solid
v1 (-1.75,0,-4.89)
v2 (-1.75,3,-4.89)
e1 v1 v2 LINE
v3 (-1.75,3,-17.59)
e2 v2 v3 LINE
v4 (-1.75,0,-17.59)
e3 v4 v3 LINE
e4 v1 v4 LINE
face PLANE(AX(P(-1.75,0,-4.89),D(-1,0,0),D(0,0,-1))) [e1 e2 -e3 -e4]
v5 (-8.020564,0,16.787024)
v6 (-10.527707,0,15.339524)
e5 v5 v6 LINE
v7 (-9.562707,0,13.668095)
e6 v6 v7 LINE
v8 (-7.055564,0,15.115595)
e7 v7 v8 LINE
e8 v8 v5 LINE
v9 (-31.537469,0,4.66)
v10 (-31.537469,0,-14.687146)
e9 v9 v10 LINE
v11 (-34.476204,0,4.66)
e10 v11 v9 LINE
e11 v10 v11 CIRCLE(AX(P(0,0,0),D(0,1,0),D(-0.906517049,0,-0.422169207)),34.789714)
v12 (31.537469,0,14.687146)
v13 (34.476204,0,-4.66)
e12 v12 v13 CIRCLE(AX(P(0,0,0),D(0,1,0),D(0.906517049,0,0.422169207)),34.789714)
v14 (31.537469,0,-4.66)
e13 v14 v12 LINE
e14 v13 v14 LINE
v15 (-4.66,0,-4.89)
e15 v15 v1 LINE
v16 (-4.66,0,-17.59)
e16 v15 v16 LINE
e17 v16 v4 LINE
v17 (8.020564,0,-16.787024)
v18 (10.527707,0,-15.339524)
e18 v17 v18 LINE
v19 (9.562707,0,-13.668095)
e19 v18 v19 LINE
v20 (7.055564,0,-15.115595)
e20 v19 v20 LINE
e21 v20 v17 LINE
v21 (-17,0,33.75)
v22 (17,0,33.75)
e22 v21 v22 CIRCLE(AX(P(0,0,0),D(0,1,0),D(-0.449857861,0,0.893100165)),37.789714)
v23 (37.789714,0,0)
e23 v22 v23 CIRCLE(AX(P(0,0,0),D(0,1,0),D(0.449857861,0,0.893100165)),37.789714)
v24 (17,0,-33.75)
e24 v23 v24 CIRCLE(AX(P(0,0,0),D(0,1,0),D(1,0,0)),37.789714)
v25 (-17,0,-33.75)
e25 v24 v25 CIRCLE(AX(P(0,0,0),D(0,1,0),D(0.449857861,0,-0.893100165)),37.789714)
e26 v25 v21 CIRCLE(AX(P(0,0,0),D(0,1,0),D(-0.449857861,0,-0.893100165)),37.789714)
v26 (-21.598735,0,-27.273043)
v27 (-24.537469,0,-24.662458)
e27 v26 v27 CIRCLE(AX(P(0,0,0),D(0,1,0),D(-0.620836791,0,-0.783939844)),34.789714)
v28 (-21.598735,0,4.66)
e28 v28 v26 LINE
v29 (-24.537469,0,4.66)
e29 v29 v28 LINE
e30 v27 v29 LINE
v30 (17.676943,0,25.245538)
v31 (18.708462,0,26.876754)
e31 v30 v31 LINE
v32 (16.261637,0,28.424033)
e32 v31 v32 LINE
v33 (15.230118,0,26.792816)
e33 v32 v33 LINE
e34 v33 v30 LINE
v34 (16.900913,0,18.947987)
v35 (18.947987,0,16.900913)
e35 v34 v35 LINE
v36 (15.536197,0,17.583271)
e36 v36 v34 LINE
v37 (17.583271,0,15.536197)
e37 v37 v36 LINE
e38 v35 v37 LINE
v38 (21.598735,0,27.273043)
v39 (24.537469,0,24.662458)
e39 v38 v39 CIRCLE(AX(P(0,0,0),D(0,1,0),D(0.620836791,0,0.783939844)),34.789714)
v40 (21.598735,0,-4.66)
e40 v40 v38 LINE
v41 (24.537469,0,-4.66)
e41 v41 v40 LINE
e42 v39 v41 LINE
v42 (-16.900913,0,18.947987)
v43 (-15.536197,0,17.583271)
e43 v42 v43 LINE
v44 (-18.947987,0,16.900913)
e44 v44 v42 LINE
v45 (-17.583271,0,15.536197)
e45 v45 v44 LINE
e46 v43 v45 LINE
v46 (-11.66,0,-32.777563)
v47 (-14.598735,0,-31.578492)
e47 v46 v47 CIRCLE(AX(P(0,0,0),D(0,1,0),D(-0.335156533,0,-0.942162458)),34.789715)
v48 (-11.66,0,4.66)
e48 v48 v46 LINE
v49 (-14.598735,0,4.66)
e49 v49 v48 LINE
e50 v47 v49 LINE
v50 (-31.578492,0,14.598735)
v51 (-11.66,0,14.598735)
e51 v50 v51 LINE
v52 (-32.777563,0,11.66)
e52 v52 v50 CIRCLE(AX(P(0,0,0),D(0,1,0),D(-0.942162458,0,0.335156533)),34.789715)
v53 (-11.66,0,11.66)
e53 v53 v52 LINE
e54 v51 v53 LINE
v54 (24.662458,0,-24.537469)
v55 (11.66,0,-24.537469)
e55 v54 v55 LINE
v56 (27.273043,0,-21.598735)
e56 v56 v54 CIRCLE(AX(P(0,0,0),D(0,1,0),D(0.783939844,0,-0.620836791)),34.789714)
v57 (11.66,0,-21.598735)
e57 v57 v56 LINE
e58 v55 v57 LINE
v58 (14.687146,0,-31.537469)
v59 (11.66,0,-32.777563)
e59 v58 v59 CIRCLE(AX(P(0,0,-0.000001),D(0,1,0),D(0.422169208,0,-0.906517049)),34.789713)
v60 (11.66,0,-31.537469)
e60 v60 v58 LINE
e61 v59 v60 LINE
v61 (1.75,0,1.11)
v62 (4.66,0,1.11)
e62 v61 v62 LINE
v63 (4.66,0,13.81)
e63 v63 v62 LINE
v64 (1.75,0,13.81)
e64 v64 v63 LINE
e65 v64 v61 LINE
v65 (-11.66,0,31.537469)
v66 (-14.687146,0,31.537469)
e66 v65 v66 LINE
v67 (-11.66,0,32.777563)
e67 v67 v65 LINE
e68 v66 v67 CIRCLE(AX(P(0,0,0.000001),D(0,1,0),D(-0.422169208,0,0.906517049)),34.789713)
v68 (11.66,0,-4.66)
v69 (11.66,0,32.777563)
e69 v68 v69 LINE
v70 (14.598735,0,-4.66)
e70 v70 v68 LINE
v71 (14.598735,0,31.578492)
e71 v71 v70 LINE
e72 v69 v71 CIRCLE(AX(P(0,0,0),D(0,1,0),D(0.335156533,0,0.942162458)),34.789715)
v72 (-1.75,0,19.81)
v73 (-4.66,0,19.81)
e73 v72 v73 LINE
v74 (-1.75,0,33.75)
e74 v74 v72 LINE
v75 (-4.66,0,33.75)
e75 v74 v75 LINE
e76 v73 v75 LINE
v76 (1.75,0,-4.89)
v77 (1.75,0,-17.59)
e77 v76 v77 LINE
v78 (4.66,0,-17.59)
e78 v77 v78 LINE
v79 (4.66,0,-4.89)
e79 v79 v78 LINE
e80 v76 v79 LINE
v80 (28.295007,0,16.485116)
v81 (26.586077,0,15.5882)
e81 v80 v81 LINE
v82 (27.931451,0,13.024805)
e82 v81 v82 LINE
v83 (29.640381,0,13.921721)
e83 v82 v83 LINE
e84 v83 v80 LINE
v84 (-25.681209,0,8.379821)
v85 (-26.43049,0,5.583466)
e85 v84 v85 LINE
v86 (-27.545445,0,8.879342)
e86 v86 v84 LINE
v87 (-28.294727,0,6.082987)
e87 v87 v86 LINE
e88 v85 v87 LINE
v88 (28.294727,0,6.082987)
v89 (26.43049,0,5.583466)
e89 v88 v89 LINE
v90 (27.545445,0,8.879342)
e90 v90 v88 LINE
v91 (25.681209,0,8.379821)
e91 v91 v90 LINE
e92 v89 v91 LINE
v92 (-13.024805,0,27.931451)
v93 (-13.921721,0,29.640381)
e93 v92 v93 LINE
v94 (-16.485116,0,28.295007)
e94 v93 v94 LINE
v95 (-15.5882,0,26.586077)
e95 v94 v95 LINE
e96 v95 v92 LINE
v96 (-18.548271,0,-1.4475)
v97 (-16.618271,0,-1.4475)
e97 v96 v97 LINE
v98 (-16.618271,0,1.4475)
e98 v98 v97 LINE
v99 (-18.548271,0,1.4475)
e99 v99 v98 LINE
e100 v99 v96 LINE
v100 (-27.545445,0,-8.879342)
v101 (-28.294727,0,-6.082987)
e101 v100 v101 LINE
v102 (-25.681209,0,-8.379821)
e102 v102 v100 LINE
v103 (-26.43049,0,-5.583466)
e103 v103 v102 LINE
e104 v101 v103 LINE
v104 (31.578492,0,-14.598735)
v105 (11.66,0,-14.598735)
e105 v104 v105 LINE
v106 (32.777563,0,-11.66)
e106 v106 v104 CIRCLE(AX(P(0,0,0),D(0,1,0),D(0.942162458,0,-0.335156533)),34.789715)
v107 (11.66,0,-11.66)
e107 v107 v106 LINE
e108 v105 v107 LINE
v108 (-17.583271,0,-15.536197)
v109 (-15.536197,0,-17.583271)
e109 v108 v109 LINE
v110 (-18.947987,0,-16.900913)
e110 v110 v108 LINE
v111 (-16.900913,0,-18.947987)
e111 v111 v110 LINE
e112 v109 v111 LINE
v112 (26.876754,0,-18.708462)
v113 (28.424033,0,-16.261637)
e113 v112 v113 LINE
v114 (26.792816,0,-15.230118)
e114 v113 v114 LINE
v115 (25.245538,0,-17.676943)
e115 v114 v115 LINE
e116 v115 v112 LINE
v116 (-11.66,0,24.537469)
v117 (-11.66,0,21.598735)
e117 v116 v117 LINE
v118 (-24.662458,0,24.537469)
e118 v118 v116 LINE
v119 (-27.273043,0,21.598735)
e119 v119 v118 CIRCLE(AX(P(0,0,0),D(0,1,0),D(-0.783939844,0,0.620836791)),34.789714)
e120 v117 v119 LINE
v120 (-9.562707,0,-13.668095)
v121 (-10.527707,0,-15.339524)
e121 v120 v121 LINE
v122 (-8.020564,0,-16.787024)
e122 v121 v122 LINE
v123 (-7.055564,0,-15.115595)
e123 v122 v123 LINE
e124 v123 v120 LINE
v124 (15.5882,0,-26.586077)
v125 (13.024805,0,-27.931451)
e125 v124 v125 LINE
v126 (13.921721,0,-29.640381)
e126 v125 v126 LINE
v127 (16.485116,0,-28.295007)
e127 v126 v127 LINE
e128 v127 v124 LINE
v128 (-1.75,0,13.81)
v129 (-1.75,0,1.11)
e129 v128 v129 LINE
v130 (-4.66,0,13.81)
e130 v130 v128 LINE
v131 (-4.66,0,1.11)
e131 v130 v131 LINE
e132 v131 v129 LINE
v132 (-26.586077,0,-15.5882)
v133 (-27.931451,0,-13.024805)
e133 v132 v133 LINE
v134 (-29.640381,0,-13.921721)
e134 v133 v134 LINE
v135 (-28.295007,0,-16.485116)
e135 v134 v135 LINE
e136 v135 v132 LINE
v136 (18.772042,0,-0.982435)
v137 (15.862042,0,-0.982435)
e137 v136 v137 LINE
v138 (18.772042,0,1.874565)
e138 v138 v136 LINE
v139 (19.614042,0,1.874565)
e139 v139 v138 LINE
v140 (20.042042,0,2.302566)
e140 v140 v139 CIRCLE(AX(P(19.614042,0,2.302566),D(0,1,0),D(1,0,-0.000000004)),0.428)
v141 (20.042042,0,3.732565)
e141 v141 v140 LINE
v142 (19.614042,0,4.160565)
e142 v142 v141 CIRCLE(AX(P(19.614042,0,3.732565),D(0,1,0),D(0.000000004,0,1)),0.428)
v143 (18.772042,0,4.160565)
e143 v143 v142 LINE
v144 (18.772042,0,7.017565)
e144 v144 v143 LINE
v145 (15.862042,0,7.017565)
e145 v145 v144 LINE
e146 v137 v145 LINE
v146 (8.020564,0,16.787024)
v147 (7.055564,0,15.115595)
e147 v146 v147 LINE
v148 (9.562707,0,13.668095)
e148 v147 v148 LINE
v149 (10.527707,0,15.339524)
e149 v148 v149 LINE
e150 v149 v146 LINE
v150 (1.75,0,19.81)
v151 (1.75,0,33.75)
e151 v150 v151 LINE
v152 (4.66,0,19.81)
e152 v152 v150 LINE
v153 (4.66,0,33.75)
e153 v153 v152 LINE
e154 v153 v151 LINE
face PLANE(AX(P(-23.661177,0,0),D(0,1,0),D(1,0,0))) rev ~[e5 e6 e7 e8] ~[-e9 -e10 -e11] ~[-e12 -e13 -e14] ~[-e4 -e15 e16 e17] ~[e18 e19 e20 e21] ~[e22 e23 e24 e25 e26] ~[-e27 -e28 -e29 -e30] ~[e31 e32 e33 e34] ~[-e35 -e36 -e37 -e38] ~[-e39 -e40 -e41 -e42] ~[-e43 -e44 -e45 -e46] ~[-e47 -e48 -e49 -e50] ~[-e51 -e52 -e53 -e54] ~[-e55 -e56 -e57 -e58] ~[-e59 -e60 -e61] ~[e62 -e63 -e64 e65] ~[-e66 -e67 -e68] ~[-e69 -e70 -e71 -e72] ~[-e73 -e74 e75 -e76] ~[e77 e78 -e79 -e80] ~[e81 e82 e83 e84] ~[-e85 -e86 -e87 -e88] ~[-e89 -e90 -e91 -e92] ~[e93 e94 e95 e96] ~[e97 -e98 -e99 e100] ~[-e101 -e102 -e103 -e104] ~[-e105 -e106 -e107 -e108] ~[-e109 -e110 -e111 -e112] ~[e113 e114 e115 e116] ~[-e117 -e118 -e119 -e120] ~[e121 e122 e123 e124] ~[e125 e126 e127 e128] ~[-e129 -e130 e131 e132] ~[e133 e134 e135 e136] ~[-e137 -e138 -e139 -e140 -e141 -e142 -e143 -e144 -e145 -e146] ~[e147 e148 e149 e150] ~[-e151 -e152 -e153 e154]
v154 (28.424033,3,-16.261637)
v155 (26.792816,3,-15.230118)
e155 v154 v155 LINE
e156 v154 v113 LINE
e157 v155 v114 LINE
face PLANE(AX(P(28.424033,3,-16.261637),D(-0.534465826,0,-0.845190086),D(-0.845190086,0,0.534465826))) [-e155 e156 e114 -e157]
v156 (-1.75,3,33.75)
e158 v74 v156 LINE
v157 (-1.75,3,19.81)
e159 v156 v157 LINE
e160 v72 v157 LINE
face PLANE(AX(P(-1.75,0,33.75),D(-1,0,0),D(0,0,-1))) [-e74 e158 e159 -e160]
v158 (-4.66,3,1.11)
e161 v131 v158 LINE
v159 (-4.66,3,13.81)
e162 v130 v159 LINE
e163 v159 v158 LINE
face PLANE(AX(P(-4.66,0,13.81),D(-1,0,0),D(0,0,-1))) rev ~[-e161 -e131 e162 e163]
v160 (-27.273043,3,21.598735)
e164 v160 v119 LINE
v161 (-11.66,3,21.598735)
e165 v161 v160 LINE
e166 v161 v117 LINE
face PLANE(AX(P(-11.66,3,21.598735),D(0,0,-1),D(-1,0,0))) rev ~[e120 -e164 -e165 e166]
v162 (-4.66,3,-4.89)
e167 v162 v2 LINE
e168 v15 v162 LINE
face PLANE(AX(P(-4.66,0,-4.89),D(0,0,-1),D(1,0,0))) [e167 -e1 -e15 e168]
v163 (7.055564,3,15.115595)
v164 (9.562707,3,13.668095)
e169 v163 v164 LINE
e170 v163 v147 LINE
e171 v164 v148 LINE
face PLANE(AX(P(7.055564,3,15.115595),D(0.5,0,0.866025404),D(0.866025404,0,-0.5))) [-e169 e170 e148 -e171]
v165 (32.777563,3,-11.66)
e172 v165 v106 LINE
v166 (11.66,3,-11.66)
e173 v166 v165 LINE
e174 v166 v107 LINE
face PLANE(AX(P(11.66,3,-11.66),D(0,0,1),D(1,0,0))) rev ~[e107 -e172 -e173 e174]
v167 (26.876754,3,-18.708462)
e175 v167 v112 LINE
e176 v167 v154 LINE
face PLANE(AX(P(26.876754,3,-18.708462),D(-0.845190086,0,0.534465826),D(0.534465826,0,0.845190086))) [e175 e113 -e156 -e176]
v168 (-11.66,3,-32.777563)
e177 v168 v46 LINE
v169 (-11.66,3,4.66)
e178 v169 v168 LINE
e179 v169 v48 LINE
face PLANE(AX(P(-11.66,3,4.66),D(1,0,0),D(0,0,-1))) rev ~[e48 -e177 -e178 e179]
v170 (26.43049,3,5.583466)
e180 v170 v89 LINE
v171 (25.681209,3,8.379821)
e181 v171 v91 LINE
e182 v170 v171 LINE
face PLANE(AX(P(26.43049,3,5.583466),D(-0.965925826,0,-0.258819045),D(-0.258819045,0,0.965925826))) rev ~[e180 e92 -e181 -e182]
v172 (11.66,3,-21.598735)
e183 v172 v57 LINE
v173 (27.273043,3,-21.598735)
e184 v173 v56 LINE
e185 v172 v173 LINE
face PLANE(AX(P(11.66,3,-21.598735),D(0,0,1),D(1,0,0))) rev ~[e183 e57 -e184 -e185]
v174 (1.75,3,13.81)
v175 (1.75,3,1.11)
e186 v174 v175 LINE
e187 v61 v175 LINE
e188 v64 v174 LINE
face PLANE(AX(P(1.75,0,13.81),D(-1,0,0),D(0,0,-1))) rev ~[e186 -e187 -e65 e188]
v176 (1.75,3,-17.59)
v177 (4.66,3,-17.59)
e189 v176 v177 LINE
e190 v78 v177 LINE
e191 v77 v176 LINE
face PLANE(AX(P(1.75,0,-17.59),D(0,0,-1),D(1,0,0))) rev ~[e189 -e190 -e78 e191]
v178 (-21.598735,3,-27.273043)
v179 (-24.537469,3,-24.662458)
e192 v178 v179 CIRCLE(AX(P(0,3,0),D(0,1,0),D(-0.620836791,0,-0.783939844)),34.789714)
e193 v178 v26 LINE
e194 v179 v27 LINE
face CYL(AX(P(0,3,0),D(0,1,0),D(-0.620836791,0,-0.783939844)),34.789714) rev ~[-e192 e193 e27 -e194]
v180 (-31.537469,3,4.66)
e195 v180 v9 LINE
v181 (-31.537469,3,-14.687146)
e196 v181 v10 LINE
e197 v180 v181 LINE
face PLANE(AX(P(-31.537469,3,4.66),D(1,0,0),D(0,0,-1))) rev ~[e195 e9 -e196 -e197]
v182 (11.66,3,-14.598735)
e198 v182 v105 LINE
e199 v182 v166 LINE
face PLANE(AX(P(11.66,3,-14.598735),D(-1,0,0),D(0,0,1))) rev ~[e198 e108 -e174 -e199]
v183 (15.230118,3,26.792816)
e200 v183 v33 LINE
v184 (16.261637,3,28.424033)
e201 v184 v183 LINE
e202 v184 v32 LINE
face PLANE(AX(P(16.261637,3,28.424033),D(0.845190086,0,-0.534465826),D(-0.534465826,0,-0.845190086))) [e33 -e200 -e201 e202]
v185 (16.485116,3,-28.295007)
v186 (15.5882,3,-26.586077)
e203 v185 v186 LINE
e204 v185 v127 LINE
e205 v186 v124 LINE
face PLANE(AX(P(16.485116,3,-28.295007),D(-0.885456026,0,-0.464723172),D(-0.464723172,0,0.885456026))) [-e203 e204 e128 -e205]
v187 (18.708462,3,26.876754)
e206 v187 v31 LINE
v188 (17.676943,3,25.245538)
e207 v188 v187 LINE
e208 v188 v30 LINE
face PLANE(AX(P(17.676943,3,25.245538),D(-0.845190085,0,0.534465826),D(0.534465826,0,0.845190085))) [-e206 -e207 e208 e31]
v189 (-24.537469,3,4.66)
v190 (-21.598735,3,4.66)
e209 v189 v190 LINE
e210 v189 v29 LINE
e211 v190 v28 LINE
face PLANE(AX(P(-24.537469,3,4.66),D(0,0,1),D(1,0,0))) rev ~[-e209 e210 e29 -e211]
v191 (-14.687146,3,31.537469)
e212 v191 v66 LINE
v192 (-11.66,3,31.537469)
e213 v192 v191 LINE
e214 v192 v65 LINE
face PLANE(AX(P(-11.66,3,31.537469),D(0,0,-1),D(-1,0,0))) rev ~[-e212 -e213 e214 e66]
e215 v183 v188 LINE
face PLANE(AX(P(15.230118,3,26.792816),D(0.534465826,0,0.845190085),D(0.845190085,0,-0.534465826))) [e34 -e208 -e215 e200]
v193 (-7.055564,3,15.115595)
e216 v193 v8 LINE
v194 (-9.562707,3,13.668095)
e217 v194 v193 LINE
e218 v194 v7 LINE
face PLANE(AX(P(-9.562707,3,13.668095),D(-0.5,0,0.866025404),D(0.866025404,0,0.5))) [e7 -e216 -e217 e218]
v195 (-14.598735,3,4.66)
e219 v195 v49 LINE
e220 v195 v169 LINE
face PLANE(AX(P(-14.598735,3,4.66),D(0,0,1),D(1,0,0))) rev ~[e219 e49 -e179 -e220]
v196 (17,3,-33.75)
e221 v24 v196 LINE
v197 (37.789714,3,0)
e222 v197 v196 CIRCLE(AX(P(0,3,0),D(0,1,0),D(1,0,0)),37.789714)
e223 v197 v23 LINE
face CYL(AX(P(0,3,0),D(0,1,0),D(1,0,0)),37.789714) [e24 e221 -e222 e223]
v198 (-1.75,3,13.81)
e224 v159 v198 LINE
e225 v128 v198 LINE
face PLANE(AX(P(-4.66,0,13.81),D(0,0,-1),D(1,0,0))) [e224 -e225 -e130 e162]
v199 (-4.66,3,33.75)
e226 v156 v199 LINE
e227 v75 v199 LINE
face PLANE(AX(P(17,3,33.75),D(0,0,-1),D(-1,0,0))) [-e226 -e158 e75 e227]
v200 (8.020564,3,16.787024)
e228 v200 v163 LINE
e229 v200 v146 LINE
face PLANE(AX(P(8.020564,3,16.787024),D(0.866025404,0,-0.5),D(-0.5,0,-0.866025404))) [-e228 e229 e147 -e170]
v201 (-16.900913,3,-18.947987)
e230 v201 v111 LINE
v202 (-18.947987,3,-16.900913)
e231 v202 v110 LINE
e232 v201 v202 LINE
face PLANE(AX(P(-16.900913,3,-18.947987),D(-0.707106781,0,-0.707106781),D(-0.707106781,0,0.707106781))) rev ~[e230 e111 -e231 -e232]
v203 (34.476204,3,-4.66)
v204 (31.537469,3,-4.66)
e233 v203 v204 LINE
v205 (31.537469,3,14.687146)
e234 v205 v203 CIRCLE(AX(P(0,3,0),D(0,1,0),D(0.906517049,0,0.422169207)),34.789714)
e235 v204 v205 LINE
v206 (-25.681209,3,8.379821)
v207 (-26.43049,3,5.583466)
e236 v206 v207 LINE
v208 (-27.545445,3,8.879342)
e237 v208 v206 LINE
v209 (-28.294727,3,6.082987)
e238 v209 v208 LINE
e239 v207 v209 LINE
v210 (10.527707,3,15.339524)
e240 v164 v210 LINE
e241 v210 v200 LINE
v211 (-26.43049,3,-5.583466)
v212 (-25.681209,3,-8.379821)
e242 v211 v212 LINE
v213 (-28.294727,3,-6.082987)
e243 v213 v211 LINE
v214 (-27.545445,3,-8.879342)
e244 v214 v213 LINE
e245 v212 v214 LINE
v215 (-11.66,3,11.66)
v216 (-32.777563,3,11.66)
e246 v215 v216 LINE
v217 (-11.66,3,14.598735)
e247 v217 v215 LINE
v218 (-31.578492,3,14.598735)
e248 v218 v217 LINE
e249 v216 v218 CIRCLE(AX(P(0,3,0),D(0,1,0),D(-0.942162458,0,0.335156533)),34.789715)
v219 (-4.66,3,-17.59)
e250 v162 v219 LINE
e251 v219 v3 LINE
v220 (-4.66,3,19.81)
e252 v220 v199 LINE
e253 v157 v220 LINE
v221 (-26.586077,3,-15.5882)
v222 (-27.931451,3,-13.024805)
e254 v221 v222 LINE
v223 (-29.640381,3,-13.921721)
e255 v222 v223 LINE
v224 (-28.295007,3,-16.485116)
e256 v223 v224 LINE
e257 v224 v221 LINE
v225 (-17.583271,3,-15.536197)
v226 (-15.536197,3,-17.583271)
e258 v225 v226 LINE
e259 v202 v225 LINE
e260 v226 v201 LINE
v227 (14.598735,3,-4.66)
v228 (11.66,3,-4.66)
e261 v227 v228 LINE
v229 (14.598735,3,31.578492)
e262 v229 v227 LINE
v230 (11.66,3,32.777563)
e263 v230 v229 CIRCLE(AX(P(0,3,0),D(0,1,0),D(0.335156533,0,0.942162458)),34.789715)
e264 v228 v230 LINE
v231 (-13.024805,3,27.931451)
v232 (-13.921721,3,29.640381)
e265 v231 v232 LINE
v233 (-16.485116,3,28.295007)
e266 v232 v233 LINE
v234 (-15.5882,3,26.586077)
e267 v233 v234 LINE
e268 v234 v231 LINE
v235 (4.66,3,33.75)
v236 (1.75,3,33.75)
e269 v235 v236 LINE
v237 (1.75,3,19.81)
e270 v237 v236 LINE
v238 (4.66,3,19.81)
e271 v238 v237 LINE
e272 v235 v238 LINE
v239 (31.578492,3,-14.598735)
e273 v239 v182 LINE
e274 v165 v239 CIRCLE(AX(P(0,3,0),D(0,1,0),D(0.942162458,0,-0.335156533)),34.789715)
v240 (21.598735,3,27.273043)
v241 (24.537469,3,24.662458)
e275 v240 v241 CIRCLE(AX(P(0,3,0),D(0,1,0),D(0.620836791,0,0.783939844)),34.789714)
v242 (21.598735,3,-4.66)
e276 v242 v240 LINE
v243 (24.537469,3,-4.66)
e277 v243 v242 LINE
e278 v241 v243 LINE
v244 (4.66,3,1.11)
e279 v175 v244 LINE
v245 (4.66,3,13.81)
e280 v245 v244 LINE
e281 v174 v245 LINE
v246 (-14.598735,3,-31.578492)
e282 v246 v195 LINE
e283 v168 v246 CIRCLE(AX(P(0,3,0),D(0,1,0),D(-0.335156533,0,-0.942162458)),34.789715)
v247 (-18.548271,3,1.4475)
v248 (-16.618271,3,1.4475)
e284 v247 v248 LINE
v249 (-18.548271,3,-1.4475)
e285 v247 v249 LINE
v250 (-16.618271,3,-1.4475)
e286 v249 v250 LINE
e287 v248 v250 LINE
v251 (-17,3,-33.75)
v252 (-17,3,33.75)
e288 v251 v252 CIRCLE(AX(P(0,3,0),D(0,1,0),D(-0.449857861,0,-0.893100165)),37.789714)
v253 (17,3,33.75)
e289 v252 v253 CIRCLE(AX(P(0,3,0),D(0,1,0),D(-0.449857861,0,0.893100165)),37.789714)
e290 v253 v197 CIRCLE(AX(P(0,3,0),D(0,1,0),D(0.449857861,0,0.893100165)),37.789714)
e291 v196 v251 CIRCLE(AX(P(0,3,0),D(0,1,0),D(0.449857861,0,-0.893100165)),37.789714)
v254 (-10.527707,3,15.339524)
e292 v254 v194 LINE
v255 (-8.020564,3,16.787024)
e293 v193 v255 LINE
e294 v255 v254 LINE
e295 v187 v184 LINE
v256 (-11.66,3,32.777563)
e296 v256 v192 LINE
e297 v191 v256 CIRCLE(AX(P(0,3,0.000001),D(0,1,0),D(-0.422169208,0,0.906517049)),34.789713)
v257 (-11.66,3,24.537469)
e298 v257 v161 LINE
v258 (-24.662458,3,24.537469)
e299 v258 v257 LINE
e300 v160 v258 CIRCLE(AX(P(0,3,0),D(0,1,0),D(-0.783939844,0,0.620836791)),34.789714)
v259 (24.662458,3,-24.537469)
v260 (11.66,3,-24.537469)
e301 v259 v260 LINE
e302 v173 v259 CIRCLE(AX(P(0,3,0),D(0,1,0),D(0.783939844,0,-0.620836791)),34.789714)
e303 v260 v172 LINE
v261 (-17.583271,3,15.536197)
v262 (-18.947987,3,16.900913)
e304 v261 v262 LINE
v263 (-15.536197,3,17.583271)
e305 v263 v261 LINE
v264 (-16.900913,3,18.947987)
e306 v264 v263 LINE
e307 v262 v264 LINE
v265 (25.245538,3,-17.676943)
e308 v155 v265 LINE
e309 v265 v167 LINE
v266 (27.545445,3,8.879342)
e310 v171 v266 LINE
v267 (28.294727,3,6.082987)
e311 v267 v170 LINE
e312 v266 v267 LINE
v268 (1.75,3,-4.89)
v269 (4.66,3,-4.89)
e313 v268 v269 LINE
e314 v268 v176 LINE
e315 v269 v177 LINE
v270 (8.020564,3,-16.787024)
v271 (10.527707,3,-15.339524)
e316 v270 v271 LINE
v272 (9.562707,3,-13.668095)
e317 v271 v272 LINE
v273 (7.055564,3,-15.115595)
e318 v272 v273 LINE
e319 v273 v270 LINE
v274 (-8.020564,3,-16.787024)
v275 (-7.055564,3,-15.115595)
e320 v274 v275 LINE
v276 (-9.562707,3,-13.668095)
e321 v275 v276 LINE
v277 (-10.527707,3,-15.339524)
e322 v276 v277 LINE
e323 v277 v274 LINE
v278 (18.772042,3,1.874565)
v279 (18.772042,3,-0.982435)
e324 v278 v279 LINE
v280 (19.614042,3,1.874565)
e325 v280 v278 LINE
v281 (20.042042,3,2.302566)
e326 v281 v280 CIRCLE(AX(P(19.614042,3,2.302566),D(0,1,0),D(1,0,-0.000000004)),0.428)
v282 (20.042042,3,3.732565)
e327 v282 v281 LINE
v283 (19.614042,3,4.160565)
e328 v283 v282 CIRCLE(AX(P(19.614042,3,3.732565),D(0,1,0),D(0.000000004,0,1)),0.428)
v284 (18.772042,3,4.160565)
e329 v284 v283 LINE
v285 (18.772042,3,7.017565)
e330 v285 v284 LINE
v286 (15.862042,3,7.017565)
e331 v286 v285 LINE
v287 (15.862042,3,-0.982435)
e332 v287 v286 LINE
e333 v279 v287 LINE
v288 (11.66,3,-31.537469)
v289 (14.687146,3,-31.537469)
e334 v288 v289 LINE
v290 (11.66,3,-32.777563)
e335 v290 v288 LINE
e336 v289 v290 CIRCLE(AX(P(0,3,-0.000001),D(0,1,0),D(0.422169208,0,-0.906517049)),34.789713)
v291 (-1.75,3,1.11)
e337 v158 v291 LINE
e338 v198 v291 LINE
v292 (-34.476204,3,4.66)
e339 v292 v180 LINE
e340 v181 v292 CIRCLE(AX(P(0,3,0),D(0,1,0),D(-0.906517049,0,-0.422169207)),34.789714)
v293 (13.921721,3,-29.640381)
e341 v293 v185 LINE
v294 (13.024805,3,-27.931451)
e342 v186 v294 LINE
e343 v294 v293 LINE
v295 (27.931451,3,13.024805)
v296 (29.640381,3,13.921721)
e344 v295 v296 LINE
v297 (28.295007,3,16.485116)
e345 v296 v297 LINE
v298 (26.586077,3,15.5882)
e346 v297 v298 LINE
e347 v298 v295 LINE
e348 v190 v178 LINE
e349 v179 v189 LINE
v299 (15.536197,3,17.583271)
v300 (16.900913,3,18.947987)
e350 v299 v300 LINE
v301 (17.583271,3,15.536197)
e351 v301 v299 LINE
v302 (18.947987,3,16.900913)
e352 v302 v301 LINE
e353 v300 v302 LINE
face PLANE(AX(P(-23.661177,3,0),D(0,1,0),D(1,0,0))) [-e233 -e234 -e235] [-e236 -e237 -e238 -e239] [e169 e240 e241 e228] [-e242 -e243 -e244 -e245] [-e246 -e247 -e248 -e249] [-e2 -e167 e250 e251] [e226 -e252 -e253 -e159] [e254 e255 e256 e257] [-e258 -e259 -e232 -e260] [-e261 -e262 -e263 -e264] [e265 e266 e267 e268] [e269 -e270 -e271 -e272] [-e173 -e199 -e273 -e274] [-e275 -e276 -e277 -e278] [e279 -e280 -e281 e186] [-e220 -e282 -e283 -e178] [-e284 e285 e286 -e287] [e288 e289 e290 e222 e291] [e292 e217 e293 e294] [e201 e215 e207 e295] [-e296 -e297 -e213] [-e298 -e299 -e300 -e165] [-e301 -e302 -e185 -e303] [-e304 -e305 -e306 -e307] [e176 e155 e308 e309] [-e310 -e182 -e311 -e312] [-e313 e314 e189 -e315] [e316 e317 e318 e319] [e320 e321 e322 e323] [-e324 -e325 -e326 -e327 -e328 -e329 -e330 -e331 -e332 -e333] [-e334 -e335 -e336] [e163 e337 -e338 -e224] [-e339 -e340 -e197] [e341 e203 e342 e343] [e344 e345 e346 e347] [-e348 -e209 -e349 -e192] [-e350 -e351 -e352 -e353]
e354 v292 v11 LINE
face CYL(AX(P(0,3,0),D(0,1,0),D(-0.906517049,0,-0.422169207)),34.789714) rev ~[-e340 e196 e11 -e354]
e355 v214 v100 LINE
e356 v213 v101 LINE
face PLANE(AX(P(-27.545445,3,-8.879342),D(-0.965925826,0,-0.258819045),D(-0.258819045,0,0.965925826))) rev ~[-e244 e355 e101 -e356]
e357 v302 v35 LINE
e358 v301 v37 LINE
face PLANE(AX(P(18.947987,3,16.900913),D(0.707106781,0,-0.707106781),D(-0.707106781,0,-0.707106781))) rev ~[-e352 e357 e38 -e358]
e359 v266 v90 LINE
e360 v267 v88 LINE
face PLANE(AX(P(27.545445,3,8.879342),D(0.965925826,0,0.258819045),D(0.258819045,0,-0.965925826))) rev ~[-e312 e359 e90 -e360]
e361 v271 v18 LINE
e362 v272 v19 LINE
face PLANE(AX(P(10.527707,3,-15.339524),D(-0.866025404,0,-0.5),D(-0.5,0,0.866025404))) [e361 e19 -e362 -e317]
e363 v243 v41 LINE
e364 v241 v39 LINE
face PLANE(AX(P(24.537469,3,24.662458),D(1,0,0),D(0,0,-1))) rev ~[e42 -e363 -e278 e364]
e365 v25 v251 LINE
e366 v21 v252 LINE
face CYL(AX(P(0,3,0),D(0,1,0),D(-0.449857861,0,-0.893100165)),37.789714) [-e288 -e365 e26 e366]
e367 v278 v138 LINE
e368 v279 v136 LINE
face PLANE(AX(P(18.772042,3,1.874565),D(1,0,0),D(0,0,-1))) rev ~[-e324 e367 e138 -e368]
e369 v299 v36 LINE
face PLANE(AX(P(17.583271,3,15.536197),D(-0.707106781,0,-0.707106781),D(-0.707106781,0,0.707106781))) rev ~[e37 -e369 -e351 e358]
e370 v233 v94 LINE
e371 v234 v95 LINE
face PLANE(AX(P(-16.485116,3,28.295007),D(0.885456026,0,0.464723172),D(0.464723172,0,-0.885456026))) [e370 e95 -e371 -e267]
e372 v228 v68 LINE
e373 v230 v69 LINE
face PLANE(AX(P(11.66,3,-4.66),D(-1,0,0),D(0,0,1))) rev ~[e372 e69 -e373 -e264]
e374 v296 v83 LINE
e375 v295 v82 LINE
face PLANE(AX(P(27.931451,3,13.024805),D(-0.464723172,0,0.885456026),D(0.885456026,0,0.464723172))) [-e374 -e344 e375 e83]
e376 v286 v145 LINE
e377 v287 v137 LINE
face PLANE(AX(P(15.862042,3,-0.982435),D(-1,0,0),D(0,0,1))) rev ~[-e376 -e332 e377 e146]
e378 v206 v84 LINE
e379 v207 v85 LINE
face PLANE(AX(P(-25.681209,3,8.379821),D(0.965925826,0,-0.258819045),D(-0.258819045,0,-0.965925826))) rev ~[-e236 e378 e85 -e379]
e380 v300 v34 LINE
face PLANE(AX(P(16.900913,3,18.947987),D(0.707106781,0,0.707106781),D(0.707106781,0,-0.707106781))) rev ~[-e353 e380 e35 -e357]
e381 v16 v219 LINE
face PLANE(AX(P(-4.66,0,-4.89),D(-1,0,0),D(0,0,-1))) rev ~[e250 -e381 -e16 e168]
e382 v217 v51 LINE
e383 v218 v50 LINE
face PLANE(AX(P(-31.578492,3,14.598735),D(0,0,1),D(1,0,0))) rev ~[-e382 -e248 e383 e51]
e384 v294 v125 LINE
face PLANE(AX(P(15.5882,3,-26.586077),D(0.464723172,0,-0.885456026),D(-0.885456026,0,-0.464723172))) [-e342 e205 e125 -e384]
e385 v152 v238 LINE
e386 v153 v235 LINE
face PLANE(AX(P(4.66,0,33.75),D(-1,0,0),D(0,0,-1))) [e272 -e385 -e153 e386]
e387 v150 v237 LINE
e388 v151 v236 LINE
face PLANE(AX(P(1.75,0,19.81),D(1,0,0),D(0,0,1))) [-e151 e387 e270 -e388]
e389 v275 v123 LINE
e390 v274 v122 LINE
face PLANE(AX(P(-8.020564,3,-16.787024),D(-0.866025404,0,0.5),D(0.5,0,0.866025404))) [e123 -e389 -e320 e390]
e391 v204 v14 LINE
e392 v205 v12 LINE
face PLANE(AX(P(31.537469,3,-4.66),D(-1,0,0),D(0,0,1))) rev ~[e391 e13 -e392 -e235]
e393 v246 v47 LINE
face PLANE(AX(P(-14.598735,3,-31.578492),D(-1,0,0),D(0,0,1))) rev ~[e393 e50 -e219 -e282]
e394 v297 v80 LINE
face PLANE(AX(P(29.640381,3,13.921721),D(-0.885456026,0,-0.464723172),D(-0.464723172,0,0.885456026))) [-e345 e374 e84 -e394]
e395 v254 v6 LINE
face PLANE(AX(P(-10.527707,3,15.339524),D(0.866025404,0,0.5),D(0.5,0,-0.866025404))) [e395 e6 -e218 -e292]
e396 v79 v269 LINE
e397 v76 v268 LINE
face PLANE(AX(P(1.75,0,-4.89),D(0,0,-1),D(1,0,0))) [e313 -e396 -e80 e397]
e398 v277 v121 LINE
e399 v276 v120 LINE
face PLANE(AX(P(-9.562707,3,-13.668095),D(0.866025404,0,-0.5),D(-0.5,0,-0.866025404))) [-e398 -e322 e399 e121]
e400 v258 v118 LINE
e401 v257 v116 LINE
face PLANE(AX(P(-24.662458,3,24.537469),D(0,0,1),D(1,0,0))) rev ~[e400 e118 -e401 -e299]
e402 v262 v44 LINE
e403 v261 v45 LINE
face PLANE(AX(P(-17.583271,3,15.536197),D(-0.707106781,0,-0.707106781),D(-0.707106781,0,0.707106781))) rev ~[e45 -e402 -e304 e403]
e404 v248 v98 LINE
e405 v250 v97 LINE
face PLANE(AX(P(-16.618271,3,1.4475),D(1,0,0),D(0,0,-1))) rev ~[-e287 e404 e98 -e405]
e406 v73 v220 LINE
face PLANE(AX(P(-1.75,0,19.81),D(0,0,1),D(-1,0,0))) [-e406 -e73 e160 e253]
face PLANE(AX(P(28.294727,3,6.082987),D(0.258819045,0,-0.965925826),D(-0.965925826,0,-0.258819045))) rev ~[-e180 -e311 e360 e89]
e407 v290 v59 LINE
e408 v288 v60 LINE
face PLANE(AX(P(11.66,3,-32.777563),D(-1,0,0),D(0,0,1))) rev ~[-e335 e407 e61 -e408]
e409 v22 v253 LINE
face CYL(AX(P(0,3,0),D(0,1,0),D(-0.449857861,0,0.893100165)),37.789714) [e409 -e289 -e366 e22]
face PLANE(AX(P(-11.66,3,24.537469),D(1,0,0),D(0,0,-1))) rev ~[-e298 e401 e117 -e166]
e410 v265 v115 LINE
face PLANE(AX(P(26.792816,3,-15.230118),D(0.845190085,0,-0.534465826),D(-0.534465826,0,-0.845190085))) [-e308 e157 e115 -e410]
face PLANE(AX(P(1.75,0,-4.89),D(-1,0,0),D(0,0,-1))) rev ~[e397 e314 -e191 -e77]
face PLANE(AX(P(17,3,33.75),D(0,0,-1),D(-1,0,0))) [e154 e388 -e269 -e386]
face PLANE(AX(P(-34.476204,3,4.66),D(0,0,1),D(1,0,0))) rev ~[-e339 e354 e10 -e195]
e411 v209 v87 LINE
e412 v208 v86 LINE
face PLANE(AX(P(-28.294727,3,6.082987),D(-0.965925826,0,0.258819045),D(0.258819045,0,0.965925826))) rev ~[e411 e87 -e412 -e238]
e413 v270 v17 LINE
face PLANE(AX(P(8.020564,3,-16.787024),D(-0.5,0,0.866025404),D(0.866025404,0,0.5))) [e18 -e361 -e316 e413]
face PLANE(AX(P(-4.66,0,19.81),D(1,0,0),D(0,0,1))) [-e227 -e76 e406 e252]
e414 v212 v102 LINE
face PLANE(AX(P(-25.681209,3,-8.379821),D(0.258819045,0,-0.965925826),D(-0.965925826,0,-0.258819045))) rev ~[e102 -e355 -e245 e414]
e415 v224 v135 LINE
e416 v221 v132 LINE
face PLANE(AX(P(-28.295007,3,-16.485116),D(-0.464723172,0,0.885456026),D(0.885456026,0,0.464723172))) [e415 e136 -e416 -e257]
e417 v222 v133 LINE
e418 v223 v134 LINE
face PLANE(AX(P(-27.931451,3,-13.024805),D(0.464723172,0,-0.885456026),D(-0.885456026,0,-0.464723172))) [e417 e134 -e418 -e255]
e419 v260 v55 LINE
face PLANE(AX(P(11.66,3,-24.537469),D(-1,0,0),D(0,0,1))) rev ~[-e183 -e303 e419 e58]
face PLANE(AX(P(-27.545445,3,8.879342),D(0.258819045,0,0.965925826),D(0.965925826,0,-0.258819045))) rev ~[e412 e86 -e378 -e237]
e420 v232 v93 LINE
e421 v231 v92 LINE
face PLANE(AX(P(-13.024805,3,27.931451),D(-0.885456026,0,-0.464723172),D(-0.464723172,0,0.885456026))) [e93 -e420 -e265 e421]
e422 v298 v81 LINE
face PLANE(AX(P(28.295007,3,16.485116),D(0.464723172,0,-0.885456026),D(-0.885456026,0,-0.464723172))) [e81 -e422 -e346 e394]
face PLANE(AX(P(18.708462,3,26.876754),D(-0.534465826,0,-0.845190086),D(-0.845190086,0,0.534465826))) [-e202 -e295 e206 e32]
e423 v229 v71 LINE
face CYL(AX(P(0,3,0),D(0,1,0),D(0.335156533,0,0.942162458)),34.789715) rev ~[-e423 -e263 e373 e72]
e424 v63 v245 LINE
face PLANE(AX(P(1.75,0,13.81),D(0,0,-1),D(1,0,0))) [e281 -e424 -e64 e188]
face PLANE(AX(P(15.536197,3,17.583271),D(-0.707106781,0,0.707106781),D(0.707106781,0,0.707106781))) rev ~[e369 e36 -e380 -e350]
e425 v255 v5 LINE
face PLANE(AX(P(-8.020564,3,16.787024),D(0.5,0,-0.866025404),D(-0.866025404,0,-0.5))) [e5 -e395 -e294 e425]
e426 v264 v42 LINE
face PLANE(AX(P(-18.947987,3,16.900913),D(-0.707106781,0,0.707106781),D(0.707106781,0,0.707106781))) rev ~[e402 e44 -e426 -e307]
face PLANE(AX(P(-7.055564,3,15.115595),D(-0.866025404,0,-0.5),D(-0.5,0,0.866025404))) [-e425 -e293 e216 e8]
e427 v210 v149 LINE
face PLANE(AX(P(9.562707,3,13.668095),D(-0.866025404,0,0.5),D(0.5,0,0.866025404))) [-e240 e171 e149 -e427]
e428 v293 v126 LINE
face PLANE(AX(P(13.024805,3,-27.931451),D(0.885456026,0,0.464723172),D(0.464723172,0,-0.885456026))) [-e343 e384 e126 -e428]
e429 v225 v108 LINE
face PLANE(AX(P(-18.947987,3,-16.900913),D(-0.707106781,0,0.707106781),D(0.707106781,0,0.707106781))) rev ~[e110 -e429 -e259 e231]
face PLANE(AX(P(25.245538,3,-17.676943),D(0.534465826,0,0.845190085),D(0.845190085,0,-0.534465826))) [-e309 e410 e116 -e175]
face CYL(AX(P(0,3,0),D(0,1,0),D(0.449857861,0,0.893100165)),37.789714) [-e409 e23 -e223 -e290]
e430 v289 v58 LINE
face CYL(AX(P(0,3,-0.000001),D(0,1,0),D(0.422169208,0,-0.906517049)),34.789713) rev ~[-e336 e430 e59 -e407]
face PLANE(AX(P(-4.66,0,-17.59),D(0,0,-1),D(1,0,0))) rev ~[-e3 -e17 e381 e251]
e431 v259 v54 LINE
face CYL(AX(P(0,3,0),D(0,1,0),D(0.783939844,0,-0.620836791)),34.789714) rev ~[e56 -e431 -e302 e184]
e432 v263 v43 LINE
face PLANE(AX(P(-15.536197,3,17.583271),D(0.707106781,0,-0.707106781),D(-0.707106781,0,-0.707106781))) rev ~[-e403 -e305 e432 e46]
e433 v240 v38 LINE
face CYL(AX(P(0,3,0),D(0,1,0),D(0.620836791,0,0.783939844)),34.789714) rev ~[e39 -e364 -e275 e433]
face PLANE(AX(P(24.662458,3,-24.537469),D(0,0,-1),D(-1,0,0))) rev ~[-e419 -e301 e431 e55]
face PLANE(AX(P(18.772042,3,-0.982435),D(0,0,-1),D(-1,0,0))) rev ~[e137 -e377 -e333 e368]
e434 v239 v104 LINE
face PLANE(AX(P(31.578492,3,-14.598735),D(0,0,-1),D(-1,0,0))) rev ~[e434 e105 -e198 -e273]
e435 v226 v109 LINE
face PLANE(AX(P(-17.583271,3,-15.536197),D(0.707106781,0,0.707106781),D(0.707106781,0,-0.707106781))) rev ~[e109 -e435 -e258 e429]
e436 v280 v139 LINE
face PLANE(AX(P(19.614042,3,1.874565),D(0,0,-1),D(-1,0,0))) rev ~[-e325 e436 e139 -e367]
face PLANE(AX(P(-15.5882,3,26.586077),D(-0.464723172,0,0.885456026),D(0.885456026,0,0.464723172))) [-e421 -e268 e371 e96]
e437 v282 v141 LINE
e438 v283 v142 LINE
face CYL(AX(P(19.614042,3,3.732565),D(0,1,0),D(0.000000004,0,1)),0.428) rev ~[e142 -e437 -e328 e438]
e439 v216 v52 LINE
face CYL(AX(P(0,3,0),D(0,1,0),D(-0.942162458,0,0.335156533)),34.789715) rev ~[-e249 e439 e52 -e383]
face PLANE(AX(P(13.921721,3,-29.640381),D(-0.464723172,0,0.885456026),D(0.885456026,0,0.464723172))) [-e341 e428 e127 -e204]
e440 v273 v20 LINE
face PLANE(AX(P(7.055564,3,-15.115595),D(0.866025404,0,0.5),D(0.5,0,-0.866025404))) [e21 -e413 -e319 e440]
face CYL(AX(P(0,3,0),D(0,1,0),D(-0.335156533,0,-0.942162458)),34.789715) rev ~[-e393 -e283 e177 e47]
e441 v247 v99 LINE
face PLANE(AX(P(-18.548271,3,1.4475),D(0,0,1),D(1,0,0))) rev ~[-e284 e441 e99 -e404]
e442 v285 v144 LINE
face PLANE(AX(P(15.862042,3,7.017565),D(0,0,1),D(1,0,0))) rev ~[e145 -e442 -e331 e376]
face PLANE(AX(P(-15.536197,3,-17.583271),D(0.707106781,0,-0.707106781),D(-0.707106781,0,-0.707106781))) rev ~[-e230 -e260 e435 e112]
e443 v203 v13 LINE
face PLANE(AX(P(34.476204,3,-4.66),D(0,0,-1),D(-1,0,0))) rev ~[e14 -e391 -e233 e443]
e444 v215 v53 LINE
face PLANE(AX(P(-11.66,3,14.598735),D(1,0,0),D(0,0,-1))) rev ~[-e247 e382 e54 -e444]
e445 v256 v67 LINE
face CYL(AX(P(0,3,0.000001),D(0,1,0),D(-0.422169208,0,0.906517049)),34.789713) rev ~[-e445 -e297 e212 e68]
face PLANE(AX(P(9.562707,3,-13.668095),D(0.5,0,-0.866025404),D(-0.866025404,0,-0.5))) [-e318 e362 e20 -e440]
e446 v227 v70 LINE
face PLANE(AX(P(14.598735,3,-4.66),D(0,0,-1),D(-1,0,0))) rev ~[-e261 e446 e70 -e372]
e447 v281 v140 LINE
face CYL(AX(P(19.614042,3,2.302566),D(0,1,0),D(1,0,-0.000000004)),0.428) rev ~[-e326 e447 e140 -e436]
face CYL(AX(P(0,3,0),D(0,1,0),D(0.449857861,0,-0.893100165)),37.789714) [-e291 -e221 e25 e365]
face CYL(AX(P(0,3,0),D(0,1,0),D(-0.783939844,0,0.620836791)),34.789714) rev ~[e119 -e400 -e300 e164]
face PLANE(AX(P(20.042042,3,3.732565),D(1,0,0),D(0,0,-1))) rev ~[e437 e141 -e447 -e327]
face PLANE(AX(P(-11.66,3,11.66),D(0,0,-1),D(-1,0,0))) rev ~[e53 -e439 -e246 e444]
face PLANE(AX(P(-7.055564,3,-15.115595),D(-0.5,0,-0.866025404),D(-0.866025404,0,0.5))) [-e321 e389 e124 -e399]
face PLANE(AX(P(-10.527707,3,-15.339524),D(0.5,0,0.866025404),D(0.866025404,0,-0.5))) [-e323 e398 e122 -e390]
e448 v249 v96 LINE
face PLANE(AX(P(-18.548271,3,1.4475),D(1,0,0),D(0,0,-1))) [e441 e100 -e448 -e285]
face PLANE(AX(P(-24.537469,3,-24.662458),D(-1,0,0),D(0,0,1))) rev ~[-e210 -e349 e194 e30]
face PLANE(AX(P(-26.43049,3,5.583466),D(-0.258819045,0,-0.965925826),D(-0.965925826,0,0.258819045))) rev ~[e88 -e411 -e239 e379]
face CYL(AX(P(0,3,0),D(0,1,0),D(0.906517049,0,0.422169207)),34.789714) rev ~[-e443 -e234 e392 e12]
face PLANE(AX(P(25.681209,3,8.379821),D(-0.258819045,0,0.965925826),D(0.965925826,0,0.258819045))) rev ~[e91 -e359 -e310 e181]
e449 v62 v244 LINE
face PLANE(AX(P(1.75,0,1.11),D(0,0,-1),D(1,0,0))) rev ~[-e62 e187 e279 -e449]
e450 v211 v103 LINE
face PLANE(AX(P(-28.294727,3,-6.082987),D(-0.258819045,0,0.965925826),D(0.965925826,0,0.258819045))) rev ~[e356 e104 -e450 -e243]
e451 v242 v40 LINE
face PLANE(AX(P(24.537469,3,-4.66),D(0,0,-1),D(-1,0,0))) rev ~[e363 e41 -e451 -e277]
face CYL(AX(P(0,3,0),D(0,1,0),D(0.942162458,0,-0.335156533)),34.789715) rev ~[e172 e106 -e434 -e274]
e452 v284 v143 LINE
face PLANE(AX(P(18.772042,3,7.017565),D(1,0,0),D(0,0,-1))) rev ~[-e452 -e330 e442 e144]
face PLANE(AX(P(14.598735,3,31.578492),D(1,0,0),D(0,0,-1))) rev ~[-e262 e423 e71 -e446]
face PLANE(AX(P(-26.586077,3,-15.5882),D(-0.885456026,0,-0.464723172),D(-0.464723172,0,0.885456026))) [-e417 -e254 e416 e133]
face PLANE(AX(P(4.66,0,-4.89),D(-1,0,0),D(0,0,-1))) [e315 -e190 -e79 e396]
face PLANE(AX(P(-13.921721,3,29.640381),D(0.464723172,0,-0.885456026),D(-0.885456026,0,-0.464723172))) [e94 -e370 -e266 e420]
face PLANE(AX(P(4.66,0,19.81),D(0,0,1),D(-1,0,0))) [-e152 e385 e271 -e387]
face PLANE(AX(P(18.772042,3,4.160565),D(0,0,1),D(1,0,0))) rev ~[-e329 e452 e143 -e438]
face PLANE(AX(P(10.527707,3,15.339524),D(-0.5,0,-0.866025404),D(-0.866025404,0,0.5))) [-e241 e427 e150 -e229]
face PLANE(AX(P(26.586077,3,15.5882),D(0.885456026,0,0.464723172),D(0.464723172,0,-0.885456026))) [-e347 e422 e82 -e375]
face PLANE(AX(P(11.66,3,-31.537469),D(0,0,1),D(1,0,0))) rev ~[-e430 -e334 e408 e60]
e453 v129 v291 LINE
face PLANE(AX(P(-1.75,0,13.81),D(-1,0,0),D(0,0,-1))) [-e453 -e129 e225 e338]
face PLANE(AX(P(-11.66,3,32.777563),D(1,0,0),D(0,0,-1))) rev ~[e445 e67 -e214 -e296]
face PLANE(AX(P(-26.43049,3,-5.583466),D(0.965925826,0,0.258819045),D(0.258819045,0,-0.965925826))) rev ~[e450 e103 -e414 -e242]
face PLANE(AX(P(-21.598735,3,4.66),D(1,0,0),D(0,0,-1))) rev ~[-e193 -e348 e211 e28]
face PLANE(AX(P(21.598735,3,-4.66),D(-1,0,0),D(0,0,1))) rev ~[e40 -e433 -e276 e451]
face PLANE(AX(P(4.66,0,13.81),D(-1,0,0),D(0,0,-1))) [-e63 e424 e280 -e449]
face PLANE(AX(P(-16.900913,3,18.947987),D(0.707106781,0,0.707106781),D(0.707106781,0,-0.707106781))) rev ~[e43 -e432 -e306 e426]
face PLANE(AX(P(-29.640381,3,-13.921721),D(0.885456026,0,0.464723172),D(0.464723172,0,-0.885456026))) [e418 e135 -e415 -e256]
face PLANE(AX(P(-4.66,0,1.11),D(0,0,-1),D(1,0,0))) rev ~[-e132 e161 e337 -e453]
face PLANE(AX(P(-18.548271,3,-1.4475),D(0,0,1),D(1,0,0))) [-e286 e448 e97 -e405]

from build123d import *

# Parameters (mm, degrees)
SKETCH_1_W          = 2.91
SKETCH_1_H          = 12.7
EXTRUDE_1_DEPTH     = 3
EXTRUDE_2_DEPTH     = 3
CUT_EXTRUDE_3_DEPTH = 3
SKETCH_3_W          = 1.93
SKETCH_3_H          = 2.895
CUT_EXTRUDE_1_DEPTH = 3


with BuildPart() as part:
    # 스케치1 → 보스-돌출1 (new body)
    with BuildSketch(Plane(origin=(0, 0, 0), x_dir=(1, 0, 0), z_dir=(0, 1, 0))):
        Polygon((-17, -33.75), (-17, 33.75), (-4.66, 33.75), (-1.75, 33.75), (1.75, 33.75), (4.66, 33.75), (17, 33.75), (17, -33.75), (4.66, -33.75), (4.66, -19.81), (1.75, -19.81), (1.75, -33.75), (-1.75, -33.75), (-1.75, -19.81), (-4.66, -19.81), (-4.66, -33.75), align=None)
        with Locations((-3.205, 11.24)):
            Rectangle(SKETCH_1_W, SKETCH_1_H, mode=Mode.SUBTRACT)
        with Locations((-3.205, -7.46)):
            Rectangle(SKETCH_1_W, SKETCH_1_H, mode=Mode.SUBTRACT)
        with Locations((3.205, 11.24)):
            Rectangle(SKETCH_1_W, SKETCH_1_H, mode=Mode.SUBTRACT)
        with Locations((3.205, -7.46)):
            Rectangle(SKETCH_1_W, SKETCH_1_H, mode=Mode.SUBTRACT)
    extrude(amount=EXTRUDE_1_DEPTH)

    # 스케치2 → 보스-돌출2 (add)
    with BuildSketch(Plane(origin=(0, 3, 0), x_dir=(1, 0, 0), z_dir=(0, 1, 0))):
        with BuildLine():
            Line((-17, -33.75), (-17, 33.75))
            ThreePointArc((-17, 33.75), (-37.789714209, 0), (-17, -33.75))
        make_face()
        with BuildLine():
            ThreePointArc((-17, -33.75), (0, -37.789714209), (17, -33.75))
            Line((17, -33.75), (4.66, -33.75))
            Line((4.66, -33.75), (1.75, -33.75))
            Line((1.75, -33.75), (-1.75, -33.75))
            Line((-1.75, -33.75), (-4.66, -33.75))
            Line((-4.66, -33.75), (-17, -33.75))
        make_face()
        with BuildLine():
            ThreePointArc((37.789714209, 0), (32.175205062, 19.819653862), (17, 33.75))
            Line((17, 33.75), (17, -33.75))
            ThreePointArc((17, -33.75), (32.175205062, -19.819653862), (37.789714209, 0))
        make_face()
        with BuildLine():
            Line((-17, 33.75), (17, 33.75))
            ThreePointArc((17, 33.75), (0, 37.789714209), (-17, 33.75))
        make_face()
    extrude(amount=-EXTRUDE_2_DEPTH)

    # 스케치5 → 컷-돌출3 (cut)
    with BuildSketch(Plane(origin=(0, 3, 0), x_dir=(1, 0, 0), z_dir=(0, 1, 0))):
        with BuildLine():
            Line((-34.476203601, -4.66), (-31.537469067, -4.66))
            Line((-31.537469067, -4.66), (-31.537469067, 14.687146066))
            ThreePointArc((-31.537469067, 14.687146066), (-34.395192397, 5.224457362), (-34.476203601, -4.66))
        make_face()
        with BuildLine():
            Line((-24.537469067, 24.662457836), (-24.537469067, -4.66))
            Line((-24.537469067, -4.66), (-21.598734534, -4.66))
            Line((-21.598734534, -4.66), (-21.598734534, 27.273043125))
            ThreePointArc((-21.598734534, 27.273043125), (-23.10500183, 26.009288825), (-24.537469067, 24.662457836))
        make_face()
        with BuildLine():
            Line((-14.598734534, 31.578492123), (-14.598734534, -4.66))
            Line((-14.598734534, -4.66), (-11.66, -4.66))
            Line((-11.66, -4.66), (-11.66, 32.777562672))
            ThreePointArc((-11.66, 32.777562672), (-13.143048633, 32.211558288), (-14.598734534, 31.578492123))
        make_face()
        with BuildLine():
            Line((31.578492123, 14.598734534), (11.66, 14.598734534))
            Line((11.66, 14.598734534), (11.66, 11.66))
            Line((11.66, 11.66), (32.777562672, 11.66))
            ThreePointArc((32.777562672, 11.66), (32.211558288, 13.143048633), (31.578492123, 14.598734534))
        make_face()
        with BuildLine():
            Line((24.662457836, 24.537469067), (11.66, 24.537469067))
            Line((11.66, 24.537469067), (11.66, 21.598734534))
            Line((11.66, 21.598734534), (27.273043125, 21.598734534))
            ThreePointArc((27.273043125, 21.598734534), (26.009288825, 23.10500183), (24.662457836, 24.537469067))
        make_face()
        with BuildLine():
            Line((11.66, 31.537469067), (14.687146066, 31.537469067))
            ThreePointArc((14.687146066, 31.537469067), (13.188156979, 32.193116194), (11.66, 32.777562672))
            Line((11.66, 32.777562672), (11.66, 31.537469067))
        make_face()
        with BuildLine():
            Line((14.598734534, -31.578492123), (14.598734534, 4.66))
            Line((14.598734534, 4.66), (11.66, 4.66))
            Line((11.66, 4.66), (11.66, -32.777562672))
            ThreePointArc((11.66, -32.777562672), (13.143048633, -32.211558288), (14.598734534, -31.578492123))
        make_face()
        with BuildLine():
            Line((24.537469067, -24.662457836), (24.537469067, 4.66))
            Line((24.537469067, 4.66), (21.598734534, 4.66))
            Line((21.598734534, 4.66), (21.598734534, -27.273043125))
            ThreePointArc((21.598734534, -27.273043125), (23.10500183, -26.009288825), (24.537469067, -24.662457836))
        make_face()
        with BuildLine():
            Line((31.537469067, 4.66), (31.537469067, -14.687146066))
            ThreePointArc((31.537469067, -14.687146066), (34.395192397, -5.224457362), (34.476203601, 4.66))
            Line((34.476203601, 4.66), (31.537469067, 4.66))
        make_face()
        with BuildLine():
            Line((-31.578492123, -14.598734534), (-11.66, -14.598734534))
            Line((-11.66, -14.598734534), (-11.66, -11.66))
            Line((-11.66, -11.66), (-32.777562672, -11.66))
            ThreePointArc((-32.777562672, -11.66), (-32.211558288, -13.143048633), (-31.578492123, -14.598734534))
        make_face()
        with BuildLine():
            Line((-24.662457836, -24.537469067), (-11.66, -24.537469067))
            Line((-11.66, -24.537469067), (-11.66, -21.598734534))
            Line((-11.66, -21.598734534), (-27.273043125, -21.598734534))
            ThreePointArc((-27.273043125, -21.598734534), (-26.009288825, -23.10500183), (-24.662457836, -24.537469067))
        make_face()
        with BuildLine():
            Line((-11.66, -31.537469067), (-14.687146066, -31.537469067))
            ThreePointArc((-14.687146066, -31.537469067), (-13.188156979, -32.193116194), (-11.66, -32.777562672))
            Line((-11.66, -32.777562672), (-11.66, -31.537469067))
        make_face()
    extrude(amount=-CUT_EXTRUDE_3_DEPTH, mode=Mode.SUBTRACT)

    # 스케치3 → 컷-돌출1 (cut)
    with BuildSketch(Plane(origin=(0, 3, 0), x_dir=(1, 0, 0), z_dir=(0, 1, 0))):
        Polygon((-13.921720976, -29.640380671), (-16.485116171, -28.295007088), (-15.588200449, -26.586076958), (-13.024805254, -27.931450541), align=None)
        Polygon((-29.640380671, 13.921720976), (-28.295007088, 16.485116171), (-26.586076958, 15.588200449), (-27.931450541, 13.024805254), align=None)
        Polygon((13.921720976, 29.640380671), (16.485116171, 28.295007088), (15.588200449, 26.586076958), (13.024805254, 27.931450541), align=None)
        Polygon((26.876754365, 18.708462151), (28.424032932, 16.261636853), (26.792816067, 15.230117809), (25.2455375, 17.676943106), align=None)
        Polygon((29.640380671, -13.921720976), (28.295007088, -16.485116171), (26.586076958, -15.588200449), (27.931450541, -13.024805254), align=None)
        Polygon((-28.294726577, -6.082986865), (-27.545445441, -8.879342132), (-25.681208596, -8.379821375), (-26.430489732, -5.583466108), align=None)
        Polygon((-27.545445441, 8.879342132), (-28.294726577, 6.082986865), (-26.430489732, 5.583466108), (-25.681208596, 8.379821375), align=None)
        Polygon((27.545445441, -8.879342132), (28.294726577, -6.082986865), (26.430489732, -5.583466108), (25.681208596, -8.379821375), align=None)
        Polygon((-18.947986862, -16.900912731), (-16.900912731, -18.947986862), (-15.536196643, -17.583270774), (-17.583270774, -15.536196643), align=None)
        Polygon((-16.900912731, 18.947986862), (-18.947986862, 16.900912731), (-17.583270774, 15.536196643), (-15.536196643, 17.583270774), align=None)
        with BuildLine():
            Line((15.862041837, -7.0175654), (18.772041837, -7.0175654))
            Line((18.772041837, -7.0175654), (18.772041837, -4.1605654))
            Line((18.772041837, -4.1605654), (19.614041677, -4.1605654))
            ThreePointArc((19.614041677, -4.1605654), (19.916683492, -4.035207055), (20.042041837, -3.73256524))
            Line((20.042041837, -3.73256524), (20.042041837, -2.30256556))
            ThreePointArc((20.042041837, -2.30256556), (19.916683492, -1.999923745), (19.614041677, -1.8745654))
            Line((19.614041677, -1.8745654), (18.772041837, -1.8745654))
            Line((18.772041837, -1.8745654), (18.772041837, 0.9824346))
            Line((18.772041837, 0.9824346), (15.862041837, 0.9824346))
            Line((15.862041837, 0.9824346), (15.862041837, -7.0175654))
        make_face()
        Polygon((18.708462151, -26.876754365), (16.261636853, -28.424032932), (15.230117809, -26.792816067), (17.676943106, -25.2455375), align=None)
        Polygon((16.900912731, -18.947986862), (18.947986862, -16.900912731), (17.583270774, -15.536196643), (15.536196643, -17.583270774), align=None)
        Polygon((-10.527707159, 15.339523687), (-8.020563615, 16.787023687), (-7.055563615, 15.115594658), (-9.562707159, 13.668094658), align=None)
        with Locations((-17.583270774, 0)):
            Rectangle(SKETCH_3_W, SKETCH_3_H)
        Polygon((8.020563615, 16.787023687), (10.527707159, 15.339523687), (9.562707159, 13.668094658), (7.055563615, 15.115594658), align=None)
        Polygon((10.527707159, -15.339523687), (8.020563615, -16.787023687), (7.055563615, -15.115594658), (9.562707159, -13.668094658), align=None)
        Polygon((-8.020563615, -16.787023687), (-10.527707159, -15.339523687), (-9.562707159, -13.668094658), (-7.055563615, -15.115594658), align=None)
    extrude(amount=-CUT_EXTRUDE_1_DEPTH, mode=Mode.SUBTRACT)


solid = part.part
